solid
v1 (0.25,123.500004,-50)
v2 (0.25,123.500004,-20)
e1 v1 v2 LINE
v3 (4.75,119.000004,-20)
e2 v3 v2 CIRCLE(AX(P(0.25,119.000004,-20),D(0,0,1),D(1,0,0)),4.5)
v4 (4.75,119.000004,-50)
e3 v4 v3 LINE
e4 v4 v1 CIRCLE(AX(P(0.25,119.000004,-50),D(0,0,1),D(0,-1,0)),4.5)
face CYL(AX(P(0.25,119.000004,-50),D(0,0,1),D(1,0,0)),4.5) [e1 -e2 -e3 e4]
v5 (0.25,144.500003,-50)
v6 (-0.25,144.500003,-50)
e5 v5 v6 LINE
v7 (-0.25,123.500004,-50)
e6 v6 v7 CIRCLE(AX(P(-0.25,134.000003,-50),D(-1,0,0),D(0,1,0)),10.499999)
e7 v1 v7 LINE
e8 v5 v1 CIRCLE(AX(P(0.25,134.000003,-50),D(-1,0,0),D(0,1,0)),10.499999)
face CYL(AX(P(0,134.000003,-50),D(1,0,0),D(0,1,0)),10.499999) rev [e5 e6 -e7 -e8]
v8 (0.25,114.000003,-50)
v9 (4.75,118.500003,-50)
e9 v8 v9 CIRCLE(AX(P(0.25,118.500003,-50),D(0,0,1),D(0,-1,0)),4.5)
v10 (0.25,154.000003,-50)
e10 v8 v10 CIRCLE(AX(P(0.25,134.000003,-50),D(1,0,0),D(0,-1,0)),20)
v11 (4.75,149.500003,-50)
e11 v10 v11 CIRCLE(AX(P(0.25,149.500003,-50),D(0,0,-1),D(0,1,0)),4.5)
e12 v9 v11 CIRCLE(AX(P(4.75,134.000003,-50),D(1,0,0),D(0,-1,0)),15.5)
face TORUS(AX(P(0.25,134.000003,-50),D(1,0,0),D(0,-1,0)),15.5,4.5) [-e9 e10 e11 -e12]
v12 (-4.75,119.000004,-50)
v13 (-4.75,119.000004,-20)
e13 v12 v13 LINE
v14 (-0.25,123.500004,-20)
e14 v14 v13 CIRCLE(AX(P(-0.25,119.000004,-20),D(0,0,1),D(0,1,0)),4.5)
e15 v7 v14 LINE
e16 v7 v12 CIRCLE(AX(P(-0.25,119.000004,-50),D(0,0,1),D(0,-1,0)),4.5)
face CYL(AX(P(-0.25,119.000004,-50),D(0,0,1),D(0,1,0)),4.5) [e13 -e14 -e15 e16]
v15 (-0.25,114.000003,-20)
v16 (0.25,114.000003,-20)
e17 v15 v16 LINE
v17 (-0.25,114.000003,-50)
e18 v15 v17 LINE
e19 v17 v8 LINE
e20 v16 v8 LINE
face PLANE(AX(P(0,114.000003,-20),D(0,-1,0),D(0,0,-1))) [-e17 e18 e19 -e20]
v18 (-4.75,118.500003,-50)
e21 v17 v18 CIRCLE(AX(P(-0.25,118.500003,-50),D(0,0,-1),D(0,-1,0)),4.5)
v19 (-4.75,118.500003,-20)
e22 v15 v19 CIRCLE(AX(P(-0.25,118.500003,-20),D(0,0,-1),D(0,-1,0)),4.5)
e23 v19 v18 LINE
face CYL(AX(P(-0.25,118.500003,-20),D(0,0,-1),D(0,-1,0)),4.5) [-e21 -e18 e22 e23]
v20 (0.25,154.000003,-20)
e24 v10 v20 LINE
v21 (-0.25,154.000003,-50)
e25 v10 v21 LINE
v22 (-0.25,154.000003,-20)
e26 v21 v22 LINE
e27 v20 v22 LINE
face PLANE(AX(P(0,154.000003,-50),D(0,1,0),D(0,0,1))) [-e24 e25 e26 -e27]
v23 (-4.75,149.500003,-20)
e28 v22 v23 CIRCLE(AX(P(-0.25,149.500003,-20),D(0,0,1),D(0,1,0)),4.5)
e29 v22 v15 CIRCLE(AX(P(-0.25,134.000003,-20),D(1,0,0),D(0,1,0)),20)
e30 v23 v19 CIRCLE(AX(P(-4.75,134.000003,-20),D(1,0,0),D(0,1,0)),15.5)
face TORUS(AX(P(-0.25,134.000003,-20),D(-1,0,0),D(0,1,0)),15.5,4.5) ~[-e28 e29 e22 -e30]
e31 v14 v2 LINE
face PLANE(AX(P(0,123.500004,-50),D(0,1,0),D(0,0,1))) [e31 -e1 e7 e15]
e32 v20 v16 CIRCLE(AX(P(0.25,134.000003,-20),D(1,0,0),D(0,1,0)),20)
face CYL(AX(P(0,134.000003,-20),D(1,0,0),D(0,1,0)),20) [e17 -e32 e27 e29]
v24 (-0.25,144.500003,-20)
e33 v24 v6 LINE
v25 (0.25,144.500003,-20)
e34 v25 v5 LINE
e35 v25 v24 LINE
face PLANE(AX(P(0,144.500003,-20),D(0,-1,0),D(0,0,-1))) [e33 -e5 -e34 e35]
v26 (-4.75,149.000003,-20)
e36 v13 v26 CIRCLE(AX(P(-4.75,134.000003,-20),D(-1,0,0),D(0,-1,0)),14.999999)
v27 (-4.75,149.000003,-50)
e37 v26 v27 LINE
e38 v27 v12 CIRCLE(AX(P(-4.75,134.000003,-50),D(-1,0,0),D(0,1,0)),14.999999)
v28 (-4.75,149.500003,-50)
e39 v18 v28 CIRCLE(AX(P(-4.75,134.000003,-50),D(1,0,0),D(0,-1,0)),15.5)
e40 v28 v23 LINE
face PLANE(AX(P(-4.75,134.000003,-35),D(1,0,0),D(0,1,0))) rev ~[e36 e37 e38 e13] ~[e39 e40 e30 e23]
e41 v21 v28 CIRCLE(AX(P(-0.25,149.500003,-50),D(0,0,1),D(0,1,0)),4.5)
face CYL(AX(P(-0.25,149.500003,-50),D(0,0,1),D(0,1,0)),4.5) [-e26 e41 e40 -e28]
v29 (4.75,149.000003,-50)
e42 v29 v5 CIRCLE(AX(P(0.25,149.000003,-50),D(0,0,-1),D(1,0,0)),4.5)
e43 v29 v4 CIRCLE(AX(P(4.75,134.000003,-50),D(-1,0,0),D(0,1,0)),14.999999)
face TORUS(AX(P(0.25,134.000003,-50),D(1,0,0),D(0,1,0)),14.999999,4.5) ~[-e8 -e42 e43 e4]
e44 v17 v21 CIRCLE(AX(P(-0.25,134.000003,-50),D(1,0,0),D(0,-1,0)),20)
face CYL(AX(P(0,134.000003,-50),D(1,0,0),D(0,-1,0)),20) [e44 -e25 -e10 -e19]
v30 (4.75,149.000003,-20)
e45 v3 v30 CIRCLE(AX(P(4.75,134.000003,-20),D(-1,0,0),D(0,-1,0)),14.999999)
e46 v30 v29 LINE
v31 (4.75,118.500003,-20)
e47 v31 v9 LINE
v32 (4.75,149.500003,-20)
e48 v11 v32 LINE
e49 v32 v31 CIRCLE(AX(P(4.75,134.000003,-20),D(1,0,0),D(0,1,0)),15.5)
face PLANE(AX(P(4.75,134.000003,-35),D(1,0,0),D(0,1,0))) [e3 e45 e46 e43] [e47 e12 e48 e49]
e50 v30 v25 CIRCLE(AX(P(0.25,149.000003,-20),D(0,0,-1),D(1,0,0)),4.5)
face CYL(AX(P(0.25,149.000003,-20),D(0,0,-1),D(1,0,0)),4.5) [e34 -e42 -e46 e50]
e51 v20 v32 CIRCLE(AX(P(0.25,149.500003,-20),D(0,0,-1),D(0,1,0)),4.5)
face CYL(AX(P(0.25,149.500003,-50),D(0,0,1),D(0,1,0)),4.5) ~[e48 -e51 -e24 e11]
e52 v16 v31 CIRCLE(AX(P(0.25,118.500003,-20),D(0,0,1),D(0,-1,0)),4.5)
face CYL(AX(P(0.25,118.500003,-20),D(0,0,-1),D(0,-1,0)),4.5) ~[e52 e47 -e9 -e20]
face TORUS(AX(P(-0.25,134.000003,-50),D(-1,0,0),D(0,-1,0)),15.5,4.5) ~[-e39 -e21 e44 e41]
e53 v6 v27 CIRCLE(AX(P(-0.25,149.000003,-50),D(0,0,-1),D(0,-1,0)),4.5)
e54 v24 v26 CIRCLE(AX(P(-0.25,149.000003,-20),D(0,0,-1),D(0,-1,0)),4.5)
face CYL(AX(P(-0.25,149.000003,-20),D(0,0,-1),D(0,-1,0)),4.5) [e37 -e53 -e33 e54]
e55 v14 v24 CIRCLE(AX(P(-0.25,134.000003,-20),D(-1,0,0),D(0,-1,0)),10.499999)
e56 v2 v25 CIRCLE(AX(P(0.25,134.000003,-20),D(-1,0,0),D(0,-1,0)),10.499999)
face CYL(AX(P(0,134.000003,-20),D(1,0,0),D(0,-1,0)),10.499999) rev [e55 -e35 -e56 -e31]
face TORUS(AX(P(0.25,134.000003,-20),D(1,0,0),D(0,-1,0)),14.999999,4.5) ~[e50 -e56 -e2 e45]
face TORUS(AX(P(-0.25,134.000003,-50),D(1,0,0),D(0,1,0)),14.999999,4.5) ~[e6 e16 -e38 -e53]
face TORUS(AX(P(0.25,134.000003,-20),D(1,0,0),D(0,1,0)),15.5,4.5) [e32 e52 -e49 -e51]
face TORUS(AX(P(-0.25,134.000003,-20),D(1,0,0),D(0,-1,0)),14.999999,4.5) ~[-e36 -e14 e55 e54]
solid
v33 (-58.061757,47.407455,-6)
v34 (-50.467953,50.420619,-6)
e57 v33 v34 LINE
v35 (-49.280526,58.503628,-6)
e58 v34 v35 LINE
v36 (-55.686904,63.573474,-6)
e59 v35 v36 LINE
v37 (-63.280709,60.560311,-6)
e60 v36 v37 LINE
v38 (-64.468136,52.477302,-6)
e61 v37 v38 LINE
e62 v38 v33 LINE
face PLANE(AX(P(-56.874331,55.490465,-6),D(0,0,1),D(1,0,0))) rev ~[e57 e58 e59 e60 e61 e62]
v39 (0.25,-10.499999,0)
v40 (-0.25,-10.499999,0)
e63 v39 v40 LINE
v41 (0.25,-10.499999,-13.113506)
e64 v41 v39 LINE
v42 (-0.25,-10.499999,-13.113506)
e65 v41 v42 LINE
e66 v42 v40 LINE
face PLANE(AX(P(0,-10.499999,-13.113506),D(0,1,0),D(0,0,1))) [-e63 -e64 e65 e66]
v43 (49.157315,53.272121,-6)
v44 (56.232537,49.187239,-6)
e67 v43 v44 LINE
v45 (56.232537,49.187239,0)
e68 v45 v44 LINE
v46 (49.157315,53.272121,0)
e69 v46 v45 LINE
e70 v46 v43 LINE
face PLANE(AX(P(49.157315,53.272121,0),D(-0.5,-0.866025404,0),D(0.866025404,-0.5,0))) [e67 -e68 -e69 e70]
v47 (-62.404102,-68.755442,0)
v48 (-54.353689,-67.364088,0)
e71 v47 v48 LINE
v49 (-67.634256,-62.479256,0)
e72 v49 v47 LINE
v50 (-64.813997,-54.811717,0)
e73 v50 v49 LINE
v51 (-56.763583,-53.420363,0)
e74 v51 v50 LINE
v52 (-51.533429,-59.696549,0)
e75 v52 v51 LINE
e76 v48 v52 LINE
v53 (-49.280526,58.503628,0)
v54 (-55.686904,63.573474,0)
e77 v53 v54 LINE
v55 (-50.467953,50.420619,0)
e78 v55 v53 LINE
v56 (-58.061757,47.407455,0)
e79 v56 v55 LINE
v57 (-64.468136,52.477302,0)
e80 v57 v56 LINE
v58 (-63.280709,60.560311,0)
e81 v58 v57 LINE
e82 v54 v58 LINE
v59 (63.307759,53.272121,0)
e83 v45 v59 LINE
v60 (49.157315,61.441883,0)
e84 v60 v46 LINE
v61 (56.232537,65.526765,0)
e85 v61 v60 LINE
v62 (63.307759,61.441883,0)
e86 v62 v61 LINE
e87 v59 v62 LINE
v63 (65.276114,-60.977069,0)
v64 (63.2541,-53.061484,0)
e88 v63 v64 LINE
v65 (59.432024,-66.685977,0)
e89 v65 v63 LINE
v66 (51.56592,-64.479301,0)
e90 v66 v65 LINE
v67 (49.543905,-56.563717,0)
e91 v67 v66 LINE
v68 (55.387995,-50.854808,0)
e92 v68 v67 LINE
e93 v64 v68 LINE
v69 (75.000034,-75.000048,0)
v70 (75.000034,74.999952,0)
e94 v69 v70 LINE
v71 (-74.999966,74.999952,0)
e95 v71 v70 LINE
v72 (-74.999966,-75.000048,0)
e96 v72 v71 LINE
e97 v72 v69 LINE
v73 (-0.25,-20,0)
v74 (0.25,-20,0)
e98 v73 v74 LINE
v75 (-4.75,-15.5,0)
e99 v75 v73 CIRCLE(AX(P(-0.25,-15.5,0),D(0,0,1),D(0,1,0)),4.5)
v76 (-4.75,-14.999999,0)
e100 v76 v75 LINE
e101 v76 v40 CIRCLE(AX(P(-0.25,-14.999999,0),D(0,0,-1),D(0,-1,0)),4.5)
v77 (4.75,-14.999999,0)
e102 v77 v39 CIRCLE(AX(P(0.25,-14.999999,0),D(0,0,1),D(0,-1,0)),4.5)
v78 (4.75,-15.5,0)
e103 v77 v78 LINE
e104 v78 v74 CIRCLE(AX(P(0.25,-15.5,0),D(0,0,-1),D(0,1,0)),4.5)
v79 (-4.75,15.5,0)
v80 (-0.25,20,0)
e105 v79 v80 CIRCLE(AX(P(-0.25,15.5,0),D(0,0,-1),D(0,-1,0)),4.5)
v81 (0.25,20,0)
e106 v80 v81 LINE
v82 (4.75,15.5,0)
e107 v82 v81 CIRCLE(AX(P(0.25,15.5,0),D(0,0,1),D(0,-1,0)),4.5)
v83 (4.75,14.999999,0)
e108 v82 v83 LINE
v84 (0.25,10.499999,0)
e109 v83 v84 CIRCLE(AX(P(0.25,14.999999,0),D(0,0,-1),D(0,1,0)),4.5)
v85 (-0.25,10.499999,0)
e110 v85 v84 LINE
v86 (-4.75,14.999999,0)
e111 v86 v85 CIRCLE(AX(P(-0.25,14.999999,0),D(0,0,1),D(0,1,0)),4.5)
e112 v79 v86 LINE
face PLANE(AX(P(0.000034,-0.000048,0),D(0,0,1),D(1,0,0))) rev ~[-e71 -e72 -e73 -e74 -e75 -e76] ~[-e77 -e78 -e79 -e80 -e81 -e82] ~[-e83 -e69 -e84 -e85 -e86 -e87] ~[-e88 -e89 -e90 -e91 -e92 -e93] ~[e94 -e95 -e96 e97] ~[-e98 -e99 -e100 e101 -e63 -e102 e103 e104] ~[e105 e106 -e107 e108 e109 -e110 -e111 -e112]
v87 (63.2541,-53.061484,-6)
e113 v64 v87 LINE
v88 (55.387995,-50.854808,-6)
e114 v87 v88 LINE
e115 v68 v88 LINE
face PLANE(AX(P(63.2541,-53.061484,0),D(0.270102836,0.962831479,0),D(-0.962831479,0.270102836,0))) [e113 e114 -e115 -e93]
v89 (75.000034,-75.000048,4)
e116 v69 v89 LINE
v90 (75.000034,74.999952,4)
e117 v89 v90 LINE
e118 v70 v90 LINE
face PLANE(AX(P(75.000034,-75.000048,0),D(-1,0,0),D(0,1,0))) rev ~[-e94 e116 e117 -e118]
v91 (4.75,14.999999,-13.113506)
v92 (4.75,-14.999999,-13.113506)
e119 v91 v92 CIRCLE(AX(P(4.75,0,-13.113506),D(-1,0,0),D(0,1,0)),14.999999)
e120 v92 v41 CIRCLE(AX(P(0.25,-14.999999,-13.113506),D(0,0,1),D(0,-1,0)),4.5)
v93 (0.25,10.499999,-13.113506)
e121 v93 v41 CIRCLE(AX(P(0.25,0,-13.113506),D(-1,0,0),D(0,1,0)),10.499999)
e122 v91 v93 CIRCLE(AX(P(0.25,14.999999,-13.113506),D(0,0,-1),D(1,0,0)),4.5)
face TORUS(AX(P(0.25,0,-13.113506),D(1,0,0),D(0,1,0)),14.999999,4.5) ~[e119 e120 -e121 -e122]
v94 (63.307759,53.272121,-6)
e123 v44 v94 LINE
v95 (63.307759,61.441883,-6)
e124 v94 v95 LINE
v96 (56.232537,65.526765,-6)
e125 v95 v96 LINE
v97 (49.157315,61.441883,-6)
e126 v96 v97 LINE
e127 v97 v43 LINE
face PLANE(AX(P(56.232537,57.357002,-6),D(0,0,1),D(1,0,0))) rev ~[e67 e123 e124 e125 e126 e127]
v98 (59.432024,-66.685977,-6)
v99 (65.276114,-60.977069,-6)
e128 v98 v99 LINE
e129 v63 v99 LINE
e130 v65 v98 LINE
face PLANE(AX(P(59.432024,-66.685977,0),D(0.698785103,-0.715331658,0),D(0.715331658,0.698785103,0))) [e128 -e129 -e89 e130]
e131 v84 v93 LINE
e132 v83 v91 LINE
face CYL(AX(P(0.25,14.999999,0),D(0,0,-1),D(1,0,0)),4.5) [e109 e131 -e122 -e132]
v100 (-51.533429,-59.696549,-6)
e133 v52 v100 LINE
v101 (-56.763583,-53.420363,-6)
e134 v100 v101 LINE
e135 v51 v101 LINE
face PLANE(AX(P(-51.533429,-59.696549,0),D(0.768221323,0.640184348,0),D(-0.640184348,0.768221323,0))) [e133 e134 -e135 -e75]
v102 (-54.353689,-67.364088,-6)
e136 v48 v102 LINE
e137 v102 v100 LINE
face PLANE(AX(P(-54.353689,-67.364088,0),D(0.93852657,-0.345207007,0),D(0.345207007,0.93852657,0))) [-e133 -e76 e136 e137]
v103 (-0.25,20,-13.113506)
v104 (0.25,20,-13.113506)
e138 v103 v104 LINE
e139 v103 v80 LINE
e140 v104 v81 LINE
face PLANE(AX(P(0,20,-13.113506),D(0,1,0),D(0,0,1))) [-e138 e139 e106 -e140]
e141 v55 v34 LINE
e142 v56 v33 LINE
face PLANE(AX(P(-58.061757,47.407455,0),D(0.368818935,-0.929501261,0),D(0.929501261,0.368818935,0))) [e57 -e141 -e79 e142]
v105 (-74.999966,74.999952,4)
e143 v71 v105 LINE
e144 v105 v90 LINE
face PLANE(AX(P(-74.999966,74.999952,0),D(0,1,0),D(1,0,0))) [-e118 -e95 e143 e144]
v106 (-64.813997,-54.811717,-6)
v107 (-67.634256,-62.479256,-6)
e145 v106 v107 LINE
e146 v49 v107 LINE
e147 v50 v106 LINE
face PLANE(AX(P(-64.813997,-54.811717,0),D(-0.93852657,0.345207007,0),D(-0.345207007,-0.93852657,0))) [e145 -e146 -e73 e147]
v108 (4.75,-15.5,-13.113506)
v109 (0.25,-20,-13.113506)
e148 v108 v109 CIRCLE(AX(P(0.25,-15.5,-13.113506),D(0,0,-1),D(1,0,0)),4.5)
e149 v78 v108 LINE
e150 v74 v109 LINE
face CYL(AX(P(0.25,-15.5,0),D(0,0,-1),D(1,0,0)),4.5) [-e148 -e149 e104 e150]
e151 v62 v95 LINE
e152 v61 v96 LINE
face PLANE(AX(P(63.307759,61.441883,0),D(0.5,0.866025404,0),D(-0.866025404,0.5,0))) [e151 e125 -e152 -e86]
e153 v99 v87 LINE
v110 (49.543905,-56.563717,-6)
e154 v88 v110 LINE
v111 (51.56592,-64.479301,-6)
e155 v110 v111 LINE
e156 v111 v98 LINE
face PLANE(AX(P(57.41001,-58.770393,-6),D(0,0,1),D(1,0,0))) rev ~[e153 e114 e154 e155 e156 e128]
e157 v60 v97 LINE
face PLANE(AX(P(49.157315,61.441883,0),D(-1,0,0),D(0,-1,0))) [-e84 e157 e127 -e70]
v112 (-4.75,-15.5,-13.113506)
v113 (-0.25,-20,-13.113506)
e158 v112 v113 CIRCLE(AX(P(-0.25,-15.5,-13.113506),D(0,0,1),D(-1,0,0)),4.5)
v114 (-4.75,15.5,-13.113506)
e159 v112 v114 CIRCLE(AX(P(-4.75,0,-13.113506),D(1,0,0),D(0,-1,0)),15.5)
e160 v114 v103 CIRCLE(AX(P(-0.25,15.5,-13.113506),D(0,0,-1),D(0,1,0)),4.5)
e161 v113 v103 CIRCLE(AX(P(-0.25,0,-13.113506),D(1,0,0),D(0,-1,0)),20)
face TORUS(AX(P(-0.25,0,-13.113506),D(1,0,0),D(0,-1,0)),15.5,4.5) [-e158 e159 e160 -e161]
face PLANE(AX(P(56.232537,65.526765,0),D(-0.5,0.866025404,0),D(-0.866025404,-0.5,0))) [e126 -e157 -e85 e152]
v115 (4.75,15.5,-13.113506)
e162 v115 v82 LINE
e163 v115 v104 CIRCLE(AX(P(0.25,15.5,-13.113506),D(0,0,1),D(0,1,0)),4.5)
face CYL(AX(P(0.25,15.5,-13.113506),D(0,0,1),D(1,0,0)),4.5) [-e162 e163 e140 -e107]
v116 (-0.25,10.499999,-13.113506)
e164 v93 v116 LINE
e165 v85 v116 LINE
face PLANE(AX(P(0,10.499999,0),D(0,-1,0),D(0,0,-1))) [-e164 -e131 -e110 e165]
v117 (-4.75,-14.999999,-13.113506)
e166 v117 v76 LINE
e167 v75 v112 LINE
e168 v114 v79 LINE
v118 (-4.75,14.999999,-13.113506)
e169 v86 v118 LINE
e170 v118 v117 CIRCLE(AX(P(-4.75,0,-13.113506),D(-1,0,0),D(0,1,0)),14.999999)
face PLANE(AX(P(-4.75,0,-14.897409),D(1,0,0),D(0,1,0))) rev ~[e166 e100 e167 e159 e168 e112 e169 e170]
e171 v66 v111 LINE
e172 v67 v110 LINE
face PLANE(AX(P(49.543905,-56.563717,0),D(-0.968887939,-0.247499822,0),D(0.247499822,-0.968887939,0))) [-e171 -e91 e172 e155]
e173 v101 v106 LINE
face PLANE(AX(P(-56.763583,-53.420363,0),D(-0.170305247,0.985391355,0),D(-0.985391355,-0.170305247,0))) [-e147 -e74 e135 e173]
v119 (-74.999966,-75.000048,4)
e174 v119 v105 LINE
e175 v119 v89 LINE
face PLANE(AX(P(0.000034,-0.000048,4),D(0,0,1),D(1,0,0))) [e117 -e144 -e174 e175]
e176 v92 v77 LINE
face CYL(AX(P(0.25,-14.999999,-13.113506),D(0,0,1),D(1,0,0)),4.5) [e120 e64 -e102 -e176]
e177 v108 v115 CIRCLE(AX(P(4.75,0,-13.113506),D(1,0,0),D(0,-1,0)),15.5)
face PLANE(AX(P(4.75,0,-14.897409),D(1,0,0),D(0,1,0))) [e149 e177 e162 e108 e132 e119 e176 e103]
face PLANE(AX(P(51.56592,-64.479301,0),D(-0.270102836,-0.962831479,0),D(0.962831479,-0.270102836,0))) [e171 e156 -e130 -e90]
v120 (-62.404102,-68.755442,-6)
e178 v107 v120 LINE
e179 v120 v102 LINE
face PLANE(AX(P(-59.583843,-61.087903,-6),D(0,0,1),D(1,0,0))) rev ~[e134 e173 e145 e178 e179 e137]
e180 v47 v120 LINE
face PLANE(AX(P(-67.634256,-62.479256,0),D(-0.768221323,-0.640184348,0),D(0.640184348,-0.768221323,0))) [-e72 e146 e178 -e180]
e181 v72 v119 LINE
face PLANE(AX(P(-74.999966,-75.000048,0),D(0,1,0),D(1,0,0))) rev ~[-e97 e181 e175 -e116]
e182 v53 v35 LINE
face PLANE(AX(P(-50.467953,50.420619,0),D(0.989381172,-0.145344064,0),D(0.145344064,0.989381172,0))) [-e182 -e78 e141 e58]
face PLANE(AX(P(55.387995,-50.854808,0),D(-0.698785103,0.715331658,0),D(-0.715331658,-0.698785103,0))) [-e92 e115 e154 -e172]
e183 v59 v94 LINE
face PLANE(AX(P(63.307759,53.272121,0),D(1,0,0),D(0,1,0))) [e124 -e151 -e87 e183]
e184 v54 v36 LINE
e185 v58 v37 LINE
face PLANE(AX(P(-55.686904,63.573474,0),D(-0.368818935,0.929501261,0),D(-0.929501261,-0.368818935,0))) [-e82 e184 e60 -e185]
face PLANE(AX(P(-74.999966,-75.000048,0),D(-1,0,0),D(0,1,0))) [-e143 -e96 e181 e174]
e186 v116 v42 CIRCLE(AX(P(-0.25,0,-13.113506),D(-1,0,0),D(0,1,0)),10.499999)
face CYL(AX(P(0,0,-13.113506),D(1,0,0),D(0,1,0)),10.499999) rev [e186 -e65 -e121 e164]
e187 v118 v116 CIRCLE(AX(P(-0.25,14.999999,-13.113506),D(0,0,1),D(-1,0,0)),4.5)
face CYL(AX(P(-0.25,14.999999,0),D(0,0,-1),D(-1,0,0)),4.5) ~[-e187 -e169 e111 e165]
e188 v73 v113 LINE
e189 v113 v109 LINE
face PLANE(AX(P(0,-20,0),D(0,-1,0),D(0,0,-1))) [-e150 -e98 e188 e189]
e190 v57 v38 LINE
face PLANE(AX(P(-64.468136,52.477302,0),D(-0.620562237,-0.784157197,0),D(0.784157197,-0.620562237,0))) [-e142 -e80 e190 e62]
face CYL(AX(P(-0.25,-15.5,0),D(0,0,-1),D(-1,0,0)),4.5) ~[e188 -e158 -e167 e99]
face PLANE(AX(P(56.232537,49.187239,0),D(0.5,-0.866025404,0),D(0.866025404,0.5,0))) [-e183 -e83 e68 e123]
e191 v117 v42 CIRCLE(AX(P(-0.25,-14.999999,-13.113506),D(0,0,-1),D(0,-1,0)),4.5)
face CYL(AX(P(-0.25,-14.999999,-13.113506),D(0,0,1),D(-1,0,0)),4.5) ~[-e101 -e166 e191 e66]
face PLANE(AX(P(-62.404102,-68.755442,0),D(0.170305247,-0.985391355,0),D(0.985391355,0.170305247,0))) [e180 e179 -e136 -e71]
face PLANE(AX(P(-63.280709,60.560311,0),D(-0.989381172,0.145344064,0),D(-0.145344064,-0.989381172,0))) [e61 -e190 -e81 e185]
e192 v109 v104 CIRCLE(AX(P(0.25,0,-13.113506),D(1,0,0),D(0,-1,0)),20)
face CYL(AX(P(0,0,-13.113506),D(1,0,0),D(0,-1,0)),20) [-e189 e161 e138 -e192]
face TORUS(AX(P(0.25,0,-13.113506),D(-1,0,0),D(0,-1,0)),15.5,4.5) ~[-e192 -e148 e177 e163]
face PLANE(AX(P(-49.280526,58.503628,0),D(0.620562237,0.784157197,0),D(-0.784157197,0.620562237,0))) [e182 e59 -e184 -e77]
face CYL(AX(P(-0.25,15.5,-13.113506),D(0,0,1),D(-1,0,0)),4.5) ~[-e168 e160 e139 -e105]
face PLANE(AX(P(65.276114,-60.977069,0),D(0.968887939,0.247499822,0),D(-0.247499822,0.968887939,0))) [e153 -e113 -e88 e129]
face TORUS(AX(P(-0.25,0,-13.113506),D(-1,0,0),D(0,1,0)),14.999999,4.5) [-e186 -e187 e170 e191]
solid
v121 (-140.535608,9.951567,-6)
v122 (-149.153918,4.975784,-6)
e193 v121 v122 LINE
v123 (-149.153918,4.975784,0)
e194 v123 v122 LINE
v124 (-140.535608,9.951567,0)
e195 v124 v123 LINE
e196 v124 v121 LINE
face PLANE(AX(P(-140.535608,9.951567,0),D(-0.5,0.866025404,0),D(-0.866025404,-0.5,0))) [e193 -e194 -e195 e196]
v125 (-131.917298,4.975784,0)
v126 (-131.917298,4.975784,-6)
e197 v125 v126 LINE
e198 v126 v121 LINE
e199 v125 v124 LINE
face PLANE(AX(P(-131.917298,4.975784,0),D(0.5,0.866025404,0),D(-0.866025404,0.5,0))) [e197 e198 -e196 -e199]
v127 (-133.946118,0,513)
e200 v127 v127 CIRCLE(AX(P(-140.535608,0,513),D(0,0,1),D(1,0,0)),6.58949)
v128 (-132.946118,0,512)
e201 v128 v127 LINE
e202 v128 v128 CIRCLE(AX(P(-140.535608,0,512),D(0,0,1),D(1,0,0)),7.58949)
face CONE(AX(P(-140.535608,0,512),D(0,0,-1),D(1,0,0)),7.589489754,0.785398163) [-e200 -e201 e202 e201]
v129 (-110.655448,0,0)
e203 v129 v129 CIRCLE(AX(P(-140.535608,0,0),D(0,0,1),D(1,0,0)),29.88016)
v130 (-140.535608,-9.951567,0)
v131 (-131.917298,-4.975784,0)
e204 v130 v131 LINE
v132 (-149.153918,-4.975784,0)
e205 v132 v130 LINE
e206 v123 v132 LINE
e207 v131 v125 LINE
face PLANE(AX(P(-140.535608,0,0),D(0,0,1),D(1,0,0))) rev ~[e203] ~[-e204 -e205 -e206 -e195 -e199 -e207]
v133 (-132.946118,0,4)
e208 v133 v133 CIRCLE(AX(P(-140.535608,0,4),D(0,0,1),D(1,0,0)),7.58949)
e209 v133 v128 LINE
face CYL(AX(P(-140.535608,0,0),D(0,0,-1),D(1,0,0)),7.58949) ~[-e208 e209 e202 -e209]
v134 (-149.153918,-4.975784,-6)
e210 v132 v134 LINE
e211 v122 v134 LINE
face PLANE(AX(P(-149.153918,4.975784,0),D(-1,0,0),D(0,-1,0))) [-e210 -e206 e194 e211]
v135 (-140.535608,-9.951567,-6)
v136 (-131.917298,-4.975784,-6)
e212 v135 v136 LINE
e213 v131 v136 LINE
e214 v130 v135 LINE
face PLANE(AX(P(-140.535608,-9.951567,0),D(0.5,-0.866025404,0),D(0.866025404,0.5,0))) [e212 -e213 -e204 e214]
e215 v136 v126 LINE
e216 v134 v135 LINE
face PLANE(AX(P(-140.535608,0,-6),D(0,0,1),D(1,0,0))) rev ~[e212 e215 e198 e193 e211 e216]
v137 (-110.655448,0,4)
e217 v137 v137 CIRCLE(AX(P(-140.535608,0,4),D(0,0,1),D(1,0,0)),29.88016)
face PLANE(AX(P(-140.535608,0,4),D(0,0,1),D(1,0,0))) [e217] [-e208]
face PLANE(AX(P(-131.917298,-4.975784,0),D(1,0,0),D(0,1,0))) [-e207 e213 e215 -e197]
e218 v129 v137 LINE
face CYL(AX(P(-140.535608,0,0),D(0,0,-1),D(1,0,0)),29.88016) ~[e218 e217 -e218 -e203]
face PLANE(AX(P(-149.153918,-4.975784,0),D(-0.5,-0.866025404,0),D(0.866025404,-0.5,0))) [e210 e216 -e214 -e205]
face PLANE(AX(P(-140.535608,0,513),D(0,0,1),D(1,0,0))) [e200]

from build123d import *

# Parameters (mm, degrees)
F0_W     = 150
F0_H     = 150
F1_DEPTH = 4
F0_R     = 29.8801597566
F0_R_2   = 7.5894897536
F2_DEPTH = 6
F4_DEPTH = 4.75
F5_R     = 4.5
F5_2_R   = 4.5
F6_DEPTH = 513
F7_SIZE  = 1


with BuildPart() as f1:
    # F0 (on Top) → F1 (new body)
    with BuildSketch(Plane.XY):
        with Locations((3.42727e-05, -4.76837e-05)):
            Rectangle(F0_W, F0_H)
        Polygon((-64.8139969088, -54.8117167897), (-56.7635834504, -53.4203633491), (-51.5334292959, -59.6965491947), (-54.3536885999, -67.364088481), (-62.4041020583, -68.7554419216), (-67.6342562128, -62.479256076), align=None, mode=Mode.SUBTRACT)
        Polygon((49.5439050382, -56.5637165805), (55.3879948742, -50.8548081702), (63.2540995034, -53.061484225), (65.2761142966, -60.9770686901), (59.4320244606, -66.6859771004), (51.5659198314, -64.4793010456), align=None, mode=Mode.SUBTRACT)
        Polygon((-63.2807091155, 60.5603109286), (-55.6869044625, 63.5734740737), (-49.2805263065, 58.5036279054), (-50.4679528036, 50.4206185919), (-58.0617574567, 47.4074554467), (-64.4681356126, 52.4773016151), align=None, mode=Mode.SUBTRACT)
        Polygon((56.2325371116, 65.5267646685), (63.3077590824, 61.4418833591), (63.3077590824, 53.2721207403), (56.2325371116, 49.1872394308), (49.1573151408, 53.2721207403), (49.1573151408, 61.4418833591), align=None, mode=Mode.SUBTRACT)
        Polygon((63.2540995034, -53.061484225), (55.3879948742, -50.8548081702), (49.5439050382, -56.5637165805), (51.5659198314, -64.4793010456), (59.4320244606, -66.6859771004), (65.2761142966, -60.9770686901), align=None)
        Polygon((-51.5334292959, -59.6965491947), (-56.7635834504, -53.4203633491), (-64.8139969088, -54.8117167897), (-67.6342562128, -62.479256076), (-62.4041020583, -68.7554419216), (-54.3536885999, -67.364088481), align=None)
        Polygon((-49.2805263065, 58.5036279054), (-55.6869044625, 63.5734740737), (-63.2807091155, 60.5603109286), (-64.4681356126, 52.4773016151), (-58.0617574567, 47.4074554467), (-50.4679528036, 50.4206185919), align=None)
        Polygon((63.3077590824, 53.2721207403), (63.3077590824, 61.4418833591), (56.2325371116, 65.5267646685), (49.1573151408, 61.4418833591), (49.1573151408, 53.2721207403), (56.2325371116, 49.1872394308), align=None)
    extrude(amount=F1_DEPTH)

    # F0 (on Top) → F2 (join)
    with BuildSketch(Plane.XY):
        Polygon((-49.2805263065, 58.5036279054), (-55.6869044625, 63.5734740737), (-63.2807091155, 60.5603109286), (-64.4681356126, 52.4773016151), (-58.0617574567, 47.4074554467), (-50.4679528036, 50.4206185919), align=None)
        Polygon((63.3077590824, 53.2721207403), (63.3077590824, 61.4418833591), (56.2325371116, 65.5267646685), (49.1573151408, 61.4418833591), (49.1573151408, 53.2721207403), (56.2325371116, 49.1872394308), align=None)
        Polygon((63.2540995034, -53.061484225), (55.3879948742, -50.8548081702), (49.5439050382, -56.5637165805), (51.5659198314, -64.4793010456), (59.4320244606, -66.6859771004), (65.2761142966, -60.9770686901), align=None)
        Polygon((-51.5334292959, -59.6965491947), (-56.7635834504, -53.4203633491), (-64.8139969088, -54.8117167897), (-67.6342562128, -62.479256076), (-62.4041020583, -68.7554419216), (-54.3536885999, -67.364088481), align=None)
    extrude(amount=-F2_DEPTH)

    # F3 (on Right) → F4, piece 2 (join, symmetric)
    with BuildSketch(Plane.YZ):
        with BuildLine():
            Line((-10.4999992428, 0), (-20, 0))
            Line((-20, 0), (-20, -13.1135056913))
            ThreePointArc((-20, -13.1135056913), (0, -33.1135056913), (20, -13.1135056913))
            Line((20, -13.1135056913), (20, 0))
            Line((20, 0), (10.4999992428, 0))
            Line((10.4999992428, 0), (10.4999992428, -13.1135056913))
            ThreePointArc((10.4999992428, -13.1135056913), (0, -23.6135049341), (-10.4999992428, -13.1135056913))
            Line((-10.4999992428, -13.1135056913), (-10.4999992428, 0))
        make_face()
    extrude(amount=F4_DEPTH, both=True)

    # F5#2
    f5_2_edges = [f1.edges().sort_by_distance(p)[0] for p in [
        (4.75, 10.499999, -6.556753),
        (4.75, 0, -23.613505),
        (-4.75, 0, -23.613505),
        (-4.75, 0, -33.113506),
        (4.75, 0, -33.113506),
    ]]
    fillet(f5_2_edges, radius=F5_2_R)


with BuildPart() as f1b:
    # F0 (on Top) → F1, piece 2 (new body)
    with BuildSketch(Plane.XY):
        with Locations((-140.535607934, 0)):
            Circle(F0_R)
        Polygon((-140.535607934, 9.9515673053), (-131.9172978401, 4.9757836527), (-131.9172978401, -4.9757836527), (-140.535607934, -9.9515673053), (-149.1539180279, -4.9757836527), (-149.1539180279, 4.9757836527), align=None, mode=Mode.SUBTRACT)
        Polygon((-131.9172978401, -4.9757836527), (-131.9172978401, 4.9757836527), (-140.535607934, 9.9515673053), (-149.1539180279, 4.9757836527), (-149.1539180279, -4.9757836527), (-140.535607934, -9.9515673053), align=None)
        with Locations((-140.535607934, 0)):
            Circle(F0_R_2, mode=Mode.SUBTRACT)
    extrude(amount=F1_DEPTH)

    # F0 (on Top) → F2, piece 2 (join)
    with BuildSketch(Plane.XY):
        Polygon((-131.9172978401, -4.9757836527), (-131.9172978401, 4.9757836527), (-140.535607934, 9.9515673053), (-149.1539180279, 4.9757836527), (-149.1539180279, -4.9757836527), (-140.535607934, -9.9515673053), align=None)
        with Locations((-140.535607934, 0)):
            Circle(F0_R_2, mode=Mode.SUBTRACT)
        with Locations((-140.535607934, 0)):
            Circle(F0_R_2)
    extrude(amount=-F2_DEPTH)

    # F0 (on Top) → F6 (join)
    with BuildSketch(Plane.XY):
        with Locations((-140.535607934, 0)):
            Circle(F0_R_2)
    extrude(amount=F6_DEPTH)

    # F7
    f7_edges = [f1b.edges().sort_by_distance(p)[0] for p in [
        (-148.125098, 0, 513),
    ]]
    chamfer(f7_edges, length=F7_SIZE)


with BuildPart() as f4:
    # F3 (on Right) → F4 (new body, symmetric)
    with BuildSketch(Plane.YZ):
        with BuildLine():
            ThreePointArc((154.0000033379, -20.000000298), (134.0000033379, -2.98e-07), (114.0000033379, -20.000000298))
            Line((114.0000033379, -20.000000298), (114.0000033379, -50.000000298))
            ThreePointArc((114.0000033379, -50.000000298), (134.0000033379, -70.000000298), (154.0000033379, -50.000000298))
            Line((154.0000033379, -50.000000298), (154.0000033379, -20.000000298))
        make_face()
        with BuildLine():
            ThreePointArc((123.500004095, -20.000000298), (134.0000033379, -9.5000010552), (144.5000025807, -20.000000298))
            Line((144.5000025807, -20.000000298), (144.5000025807, -50.000000298))
            ThreePointArc((144.5000025807, -50.000000298), (134.0000033379, -60.4999995409), (123.500004095, -50.000000298))
            Line((123.500004095, -50.000000298), (123.500004095, -20.000000298))
        make_face(mode=Mode.SUBTRACT)
    extrude(amount=F4_DEPTH, both=True)

    # F5
    f5_edges = [f4.edges().sort_by_distance(p)[0] for p in [
        (4.75, 134.000003, 0),
        (4.75, 114.000003, -35),
        (4.75, 134.000003, -70),
        (4.75, 154.000003, -35),
        (4.75, 144.500003, -35),
        (4.75, 134.000003, -60.5),
        (4.75, 123.500004, -35),
        (4.75, 134.000003, -9.500001),
        (-4.75, 134.000003, 0),
        (-4.75, 114.000003, -35),
        (-4.75, 134.000003, -70),
        (-4.75, 154.000003, -35),
        (-4.75, 144.500003, -35),
        (-4.75, 134.000003, -60.5),
        (-4.75, 123.500004, -35),
        (-4.75, 134.000003, -9.500001),
    ]]
    fillet(f5_edges, radius=F5_R)


solid = Compound([f1.part, f1b.part, f4.part])
